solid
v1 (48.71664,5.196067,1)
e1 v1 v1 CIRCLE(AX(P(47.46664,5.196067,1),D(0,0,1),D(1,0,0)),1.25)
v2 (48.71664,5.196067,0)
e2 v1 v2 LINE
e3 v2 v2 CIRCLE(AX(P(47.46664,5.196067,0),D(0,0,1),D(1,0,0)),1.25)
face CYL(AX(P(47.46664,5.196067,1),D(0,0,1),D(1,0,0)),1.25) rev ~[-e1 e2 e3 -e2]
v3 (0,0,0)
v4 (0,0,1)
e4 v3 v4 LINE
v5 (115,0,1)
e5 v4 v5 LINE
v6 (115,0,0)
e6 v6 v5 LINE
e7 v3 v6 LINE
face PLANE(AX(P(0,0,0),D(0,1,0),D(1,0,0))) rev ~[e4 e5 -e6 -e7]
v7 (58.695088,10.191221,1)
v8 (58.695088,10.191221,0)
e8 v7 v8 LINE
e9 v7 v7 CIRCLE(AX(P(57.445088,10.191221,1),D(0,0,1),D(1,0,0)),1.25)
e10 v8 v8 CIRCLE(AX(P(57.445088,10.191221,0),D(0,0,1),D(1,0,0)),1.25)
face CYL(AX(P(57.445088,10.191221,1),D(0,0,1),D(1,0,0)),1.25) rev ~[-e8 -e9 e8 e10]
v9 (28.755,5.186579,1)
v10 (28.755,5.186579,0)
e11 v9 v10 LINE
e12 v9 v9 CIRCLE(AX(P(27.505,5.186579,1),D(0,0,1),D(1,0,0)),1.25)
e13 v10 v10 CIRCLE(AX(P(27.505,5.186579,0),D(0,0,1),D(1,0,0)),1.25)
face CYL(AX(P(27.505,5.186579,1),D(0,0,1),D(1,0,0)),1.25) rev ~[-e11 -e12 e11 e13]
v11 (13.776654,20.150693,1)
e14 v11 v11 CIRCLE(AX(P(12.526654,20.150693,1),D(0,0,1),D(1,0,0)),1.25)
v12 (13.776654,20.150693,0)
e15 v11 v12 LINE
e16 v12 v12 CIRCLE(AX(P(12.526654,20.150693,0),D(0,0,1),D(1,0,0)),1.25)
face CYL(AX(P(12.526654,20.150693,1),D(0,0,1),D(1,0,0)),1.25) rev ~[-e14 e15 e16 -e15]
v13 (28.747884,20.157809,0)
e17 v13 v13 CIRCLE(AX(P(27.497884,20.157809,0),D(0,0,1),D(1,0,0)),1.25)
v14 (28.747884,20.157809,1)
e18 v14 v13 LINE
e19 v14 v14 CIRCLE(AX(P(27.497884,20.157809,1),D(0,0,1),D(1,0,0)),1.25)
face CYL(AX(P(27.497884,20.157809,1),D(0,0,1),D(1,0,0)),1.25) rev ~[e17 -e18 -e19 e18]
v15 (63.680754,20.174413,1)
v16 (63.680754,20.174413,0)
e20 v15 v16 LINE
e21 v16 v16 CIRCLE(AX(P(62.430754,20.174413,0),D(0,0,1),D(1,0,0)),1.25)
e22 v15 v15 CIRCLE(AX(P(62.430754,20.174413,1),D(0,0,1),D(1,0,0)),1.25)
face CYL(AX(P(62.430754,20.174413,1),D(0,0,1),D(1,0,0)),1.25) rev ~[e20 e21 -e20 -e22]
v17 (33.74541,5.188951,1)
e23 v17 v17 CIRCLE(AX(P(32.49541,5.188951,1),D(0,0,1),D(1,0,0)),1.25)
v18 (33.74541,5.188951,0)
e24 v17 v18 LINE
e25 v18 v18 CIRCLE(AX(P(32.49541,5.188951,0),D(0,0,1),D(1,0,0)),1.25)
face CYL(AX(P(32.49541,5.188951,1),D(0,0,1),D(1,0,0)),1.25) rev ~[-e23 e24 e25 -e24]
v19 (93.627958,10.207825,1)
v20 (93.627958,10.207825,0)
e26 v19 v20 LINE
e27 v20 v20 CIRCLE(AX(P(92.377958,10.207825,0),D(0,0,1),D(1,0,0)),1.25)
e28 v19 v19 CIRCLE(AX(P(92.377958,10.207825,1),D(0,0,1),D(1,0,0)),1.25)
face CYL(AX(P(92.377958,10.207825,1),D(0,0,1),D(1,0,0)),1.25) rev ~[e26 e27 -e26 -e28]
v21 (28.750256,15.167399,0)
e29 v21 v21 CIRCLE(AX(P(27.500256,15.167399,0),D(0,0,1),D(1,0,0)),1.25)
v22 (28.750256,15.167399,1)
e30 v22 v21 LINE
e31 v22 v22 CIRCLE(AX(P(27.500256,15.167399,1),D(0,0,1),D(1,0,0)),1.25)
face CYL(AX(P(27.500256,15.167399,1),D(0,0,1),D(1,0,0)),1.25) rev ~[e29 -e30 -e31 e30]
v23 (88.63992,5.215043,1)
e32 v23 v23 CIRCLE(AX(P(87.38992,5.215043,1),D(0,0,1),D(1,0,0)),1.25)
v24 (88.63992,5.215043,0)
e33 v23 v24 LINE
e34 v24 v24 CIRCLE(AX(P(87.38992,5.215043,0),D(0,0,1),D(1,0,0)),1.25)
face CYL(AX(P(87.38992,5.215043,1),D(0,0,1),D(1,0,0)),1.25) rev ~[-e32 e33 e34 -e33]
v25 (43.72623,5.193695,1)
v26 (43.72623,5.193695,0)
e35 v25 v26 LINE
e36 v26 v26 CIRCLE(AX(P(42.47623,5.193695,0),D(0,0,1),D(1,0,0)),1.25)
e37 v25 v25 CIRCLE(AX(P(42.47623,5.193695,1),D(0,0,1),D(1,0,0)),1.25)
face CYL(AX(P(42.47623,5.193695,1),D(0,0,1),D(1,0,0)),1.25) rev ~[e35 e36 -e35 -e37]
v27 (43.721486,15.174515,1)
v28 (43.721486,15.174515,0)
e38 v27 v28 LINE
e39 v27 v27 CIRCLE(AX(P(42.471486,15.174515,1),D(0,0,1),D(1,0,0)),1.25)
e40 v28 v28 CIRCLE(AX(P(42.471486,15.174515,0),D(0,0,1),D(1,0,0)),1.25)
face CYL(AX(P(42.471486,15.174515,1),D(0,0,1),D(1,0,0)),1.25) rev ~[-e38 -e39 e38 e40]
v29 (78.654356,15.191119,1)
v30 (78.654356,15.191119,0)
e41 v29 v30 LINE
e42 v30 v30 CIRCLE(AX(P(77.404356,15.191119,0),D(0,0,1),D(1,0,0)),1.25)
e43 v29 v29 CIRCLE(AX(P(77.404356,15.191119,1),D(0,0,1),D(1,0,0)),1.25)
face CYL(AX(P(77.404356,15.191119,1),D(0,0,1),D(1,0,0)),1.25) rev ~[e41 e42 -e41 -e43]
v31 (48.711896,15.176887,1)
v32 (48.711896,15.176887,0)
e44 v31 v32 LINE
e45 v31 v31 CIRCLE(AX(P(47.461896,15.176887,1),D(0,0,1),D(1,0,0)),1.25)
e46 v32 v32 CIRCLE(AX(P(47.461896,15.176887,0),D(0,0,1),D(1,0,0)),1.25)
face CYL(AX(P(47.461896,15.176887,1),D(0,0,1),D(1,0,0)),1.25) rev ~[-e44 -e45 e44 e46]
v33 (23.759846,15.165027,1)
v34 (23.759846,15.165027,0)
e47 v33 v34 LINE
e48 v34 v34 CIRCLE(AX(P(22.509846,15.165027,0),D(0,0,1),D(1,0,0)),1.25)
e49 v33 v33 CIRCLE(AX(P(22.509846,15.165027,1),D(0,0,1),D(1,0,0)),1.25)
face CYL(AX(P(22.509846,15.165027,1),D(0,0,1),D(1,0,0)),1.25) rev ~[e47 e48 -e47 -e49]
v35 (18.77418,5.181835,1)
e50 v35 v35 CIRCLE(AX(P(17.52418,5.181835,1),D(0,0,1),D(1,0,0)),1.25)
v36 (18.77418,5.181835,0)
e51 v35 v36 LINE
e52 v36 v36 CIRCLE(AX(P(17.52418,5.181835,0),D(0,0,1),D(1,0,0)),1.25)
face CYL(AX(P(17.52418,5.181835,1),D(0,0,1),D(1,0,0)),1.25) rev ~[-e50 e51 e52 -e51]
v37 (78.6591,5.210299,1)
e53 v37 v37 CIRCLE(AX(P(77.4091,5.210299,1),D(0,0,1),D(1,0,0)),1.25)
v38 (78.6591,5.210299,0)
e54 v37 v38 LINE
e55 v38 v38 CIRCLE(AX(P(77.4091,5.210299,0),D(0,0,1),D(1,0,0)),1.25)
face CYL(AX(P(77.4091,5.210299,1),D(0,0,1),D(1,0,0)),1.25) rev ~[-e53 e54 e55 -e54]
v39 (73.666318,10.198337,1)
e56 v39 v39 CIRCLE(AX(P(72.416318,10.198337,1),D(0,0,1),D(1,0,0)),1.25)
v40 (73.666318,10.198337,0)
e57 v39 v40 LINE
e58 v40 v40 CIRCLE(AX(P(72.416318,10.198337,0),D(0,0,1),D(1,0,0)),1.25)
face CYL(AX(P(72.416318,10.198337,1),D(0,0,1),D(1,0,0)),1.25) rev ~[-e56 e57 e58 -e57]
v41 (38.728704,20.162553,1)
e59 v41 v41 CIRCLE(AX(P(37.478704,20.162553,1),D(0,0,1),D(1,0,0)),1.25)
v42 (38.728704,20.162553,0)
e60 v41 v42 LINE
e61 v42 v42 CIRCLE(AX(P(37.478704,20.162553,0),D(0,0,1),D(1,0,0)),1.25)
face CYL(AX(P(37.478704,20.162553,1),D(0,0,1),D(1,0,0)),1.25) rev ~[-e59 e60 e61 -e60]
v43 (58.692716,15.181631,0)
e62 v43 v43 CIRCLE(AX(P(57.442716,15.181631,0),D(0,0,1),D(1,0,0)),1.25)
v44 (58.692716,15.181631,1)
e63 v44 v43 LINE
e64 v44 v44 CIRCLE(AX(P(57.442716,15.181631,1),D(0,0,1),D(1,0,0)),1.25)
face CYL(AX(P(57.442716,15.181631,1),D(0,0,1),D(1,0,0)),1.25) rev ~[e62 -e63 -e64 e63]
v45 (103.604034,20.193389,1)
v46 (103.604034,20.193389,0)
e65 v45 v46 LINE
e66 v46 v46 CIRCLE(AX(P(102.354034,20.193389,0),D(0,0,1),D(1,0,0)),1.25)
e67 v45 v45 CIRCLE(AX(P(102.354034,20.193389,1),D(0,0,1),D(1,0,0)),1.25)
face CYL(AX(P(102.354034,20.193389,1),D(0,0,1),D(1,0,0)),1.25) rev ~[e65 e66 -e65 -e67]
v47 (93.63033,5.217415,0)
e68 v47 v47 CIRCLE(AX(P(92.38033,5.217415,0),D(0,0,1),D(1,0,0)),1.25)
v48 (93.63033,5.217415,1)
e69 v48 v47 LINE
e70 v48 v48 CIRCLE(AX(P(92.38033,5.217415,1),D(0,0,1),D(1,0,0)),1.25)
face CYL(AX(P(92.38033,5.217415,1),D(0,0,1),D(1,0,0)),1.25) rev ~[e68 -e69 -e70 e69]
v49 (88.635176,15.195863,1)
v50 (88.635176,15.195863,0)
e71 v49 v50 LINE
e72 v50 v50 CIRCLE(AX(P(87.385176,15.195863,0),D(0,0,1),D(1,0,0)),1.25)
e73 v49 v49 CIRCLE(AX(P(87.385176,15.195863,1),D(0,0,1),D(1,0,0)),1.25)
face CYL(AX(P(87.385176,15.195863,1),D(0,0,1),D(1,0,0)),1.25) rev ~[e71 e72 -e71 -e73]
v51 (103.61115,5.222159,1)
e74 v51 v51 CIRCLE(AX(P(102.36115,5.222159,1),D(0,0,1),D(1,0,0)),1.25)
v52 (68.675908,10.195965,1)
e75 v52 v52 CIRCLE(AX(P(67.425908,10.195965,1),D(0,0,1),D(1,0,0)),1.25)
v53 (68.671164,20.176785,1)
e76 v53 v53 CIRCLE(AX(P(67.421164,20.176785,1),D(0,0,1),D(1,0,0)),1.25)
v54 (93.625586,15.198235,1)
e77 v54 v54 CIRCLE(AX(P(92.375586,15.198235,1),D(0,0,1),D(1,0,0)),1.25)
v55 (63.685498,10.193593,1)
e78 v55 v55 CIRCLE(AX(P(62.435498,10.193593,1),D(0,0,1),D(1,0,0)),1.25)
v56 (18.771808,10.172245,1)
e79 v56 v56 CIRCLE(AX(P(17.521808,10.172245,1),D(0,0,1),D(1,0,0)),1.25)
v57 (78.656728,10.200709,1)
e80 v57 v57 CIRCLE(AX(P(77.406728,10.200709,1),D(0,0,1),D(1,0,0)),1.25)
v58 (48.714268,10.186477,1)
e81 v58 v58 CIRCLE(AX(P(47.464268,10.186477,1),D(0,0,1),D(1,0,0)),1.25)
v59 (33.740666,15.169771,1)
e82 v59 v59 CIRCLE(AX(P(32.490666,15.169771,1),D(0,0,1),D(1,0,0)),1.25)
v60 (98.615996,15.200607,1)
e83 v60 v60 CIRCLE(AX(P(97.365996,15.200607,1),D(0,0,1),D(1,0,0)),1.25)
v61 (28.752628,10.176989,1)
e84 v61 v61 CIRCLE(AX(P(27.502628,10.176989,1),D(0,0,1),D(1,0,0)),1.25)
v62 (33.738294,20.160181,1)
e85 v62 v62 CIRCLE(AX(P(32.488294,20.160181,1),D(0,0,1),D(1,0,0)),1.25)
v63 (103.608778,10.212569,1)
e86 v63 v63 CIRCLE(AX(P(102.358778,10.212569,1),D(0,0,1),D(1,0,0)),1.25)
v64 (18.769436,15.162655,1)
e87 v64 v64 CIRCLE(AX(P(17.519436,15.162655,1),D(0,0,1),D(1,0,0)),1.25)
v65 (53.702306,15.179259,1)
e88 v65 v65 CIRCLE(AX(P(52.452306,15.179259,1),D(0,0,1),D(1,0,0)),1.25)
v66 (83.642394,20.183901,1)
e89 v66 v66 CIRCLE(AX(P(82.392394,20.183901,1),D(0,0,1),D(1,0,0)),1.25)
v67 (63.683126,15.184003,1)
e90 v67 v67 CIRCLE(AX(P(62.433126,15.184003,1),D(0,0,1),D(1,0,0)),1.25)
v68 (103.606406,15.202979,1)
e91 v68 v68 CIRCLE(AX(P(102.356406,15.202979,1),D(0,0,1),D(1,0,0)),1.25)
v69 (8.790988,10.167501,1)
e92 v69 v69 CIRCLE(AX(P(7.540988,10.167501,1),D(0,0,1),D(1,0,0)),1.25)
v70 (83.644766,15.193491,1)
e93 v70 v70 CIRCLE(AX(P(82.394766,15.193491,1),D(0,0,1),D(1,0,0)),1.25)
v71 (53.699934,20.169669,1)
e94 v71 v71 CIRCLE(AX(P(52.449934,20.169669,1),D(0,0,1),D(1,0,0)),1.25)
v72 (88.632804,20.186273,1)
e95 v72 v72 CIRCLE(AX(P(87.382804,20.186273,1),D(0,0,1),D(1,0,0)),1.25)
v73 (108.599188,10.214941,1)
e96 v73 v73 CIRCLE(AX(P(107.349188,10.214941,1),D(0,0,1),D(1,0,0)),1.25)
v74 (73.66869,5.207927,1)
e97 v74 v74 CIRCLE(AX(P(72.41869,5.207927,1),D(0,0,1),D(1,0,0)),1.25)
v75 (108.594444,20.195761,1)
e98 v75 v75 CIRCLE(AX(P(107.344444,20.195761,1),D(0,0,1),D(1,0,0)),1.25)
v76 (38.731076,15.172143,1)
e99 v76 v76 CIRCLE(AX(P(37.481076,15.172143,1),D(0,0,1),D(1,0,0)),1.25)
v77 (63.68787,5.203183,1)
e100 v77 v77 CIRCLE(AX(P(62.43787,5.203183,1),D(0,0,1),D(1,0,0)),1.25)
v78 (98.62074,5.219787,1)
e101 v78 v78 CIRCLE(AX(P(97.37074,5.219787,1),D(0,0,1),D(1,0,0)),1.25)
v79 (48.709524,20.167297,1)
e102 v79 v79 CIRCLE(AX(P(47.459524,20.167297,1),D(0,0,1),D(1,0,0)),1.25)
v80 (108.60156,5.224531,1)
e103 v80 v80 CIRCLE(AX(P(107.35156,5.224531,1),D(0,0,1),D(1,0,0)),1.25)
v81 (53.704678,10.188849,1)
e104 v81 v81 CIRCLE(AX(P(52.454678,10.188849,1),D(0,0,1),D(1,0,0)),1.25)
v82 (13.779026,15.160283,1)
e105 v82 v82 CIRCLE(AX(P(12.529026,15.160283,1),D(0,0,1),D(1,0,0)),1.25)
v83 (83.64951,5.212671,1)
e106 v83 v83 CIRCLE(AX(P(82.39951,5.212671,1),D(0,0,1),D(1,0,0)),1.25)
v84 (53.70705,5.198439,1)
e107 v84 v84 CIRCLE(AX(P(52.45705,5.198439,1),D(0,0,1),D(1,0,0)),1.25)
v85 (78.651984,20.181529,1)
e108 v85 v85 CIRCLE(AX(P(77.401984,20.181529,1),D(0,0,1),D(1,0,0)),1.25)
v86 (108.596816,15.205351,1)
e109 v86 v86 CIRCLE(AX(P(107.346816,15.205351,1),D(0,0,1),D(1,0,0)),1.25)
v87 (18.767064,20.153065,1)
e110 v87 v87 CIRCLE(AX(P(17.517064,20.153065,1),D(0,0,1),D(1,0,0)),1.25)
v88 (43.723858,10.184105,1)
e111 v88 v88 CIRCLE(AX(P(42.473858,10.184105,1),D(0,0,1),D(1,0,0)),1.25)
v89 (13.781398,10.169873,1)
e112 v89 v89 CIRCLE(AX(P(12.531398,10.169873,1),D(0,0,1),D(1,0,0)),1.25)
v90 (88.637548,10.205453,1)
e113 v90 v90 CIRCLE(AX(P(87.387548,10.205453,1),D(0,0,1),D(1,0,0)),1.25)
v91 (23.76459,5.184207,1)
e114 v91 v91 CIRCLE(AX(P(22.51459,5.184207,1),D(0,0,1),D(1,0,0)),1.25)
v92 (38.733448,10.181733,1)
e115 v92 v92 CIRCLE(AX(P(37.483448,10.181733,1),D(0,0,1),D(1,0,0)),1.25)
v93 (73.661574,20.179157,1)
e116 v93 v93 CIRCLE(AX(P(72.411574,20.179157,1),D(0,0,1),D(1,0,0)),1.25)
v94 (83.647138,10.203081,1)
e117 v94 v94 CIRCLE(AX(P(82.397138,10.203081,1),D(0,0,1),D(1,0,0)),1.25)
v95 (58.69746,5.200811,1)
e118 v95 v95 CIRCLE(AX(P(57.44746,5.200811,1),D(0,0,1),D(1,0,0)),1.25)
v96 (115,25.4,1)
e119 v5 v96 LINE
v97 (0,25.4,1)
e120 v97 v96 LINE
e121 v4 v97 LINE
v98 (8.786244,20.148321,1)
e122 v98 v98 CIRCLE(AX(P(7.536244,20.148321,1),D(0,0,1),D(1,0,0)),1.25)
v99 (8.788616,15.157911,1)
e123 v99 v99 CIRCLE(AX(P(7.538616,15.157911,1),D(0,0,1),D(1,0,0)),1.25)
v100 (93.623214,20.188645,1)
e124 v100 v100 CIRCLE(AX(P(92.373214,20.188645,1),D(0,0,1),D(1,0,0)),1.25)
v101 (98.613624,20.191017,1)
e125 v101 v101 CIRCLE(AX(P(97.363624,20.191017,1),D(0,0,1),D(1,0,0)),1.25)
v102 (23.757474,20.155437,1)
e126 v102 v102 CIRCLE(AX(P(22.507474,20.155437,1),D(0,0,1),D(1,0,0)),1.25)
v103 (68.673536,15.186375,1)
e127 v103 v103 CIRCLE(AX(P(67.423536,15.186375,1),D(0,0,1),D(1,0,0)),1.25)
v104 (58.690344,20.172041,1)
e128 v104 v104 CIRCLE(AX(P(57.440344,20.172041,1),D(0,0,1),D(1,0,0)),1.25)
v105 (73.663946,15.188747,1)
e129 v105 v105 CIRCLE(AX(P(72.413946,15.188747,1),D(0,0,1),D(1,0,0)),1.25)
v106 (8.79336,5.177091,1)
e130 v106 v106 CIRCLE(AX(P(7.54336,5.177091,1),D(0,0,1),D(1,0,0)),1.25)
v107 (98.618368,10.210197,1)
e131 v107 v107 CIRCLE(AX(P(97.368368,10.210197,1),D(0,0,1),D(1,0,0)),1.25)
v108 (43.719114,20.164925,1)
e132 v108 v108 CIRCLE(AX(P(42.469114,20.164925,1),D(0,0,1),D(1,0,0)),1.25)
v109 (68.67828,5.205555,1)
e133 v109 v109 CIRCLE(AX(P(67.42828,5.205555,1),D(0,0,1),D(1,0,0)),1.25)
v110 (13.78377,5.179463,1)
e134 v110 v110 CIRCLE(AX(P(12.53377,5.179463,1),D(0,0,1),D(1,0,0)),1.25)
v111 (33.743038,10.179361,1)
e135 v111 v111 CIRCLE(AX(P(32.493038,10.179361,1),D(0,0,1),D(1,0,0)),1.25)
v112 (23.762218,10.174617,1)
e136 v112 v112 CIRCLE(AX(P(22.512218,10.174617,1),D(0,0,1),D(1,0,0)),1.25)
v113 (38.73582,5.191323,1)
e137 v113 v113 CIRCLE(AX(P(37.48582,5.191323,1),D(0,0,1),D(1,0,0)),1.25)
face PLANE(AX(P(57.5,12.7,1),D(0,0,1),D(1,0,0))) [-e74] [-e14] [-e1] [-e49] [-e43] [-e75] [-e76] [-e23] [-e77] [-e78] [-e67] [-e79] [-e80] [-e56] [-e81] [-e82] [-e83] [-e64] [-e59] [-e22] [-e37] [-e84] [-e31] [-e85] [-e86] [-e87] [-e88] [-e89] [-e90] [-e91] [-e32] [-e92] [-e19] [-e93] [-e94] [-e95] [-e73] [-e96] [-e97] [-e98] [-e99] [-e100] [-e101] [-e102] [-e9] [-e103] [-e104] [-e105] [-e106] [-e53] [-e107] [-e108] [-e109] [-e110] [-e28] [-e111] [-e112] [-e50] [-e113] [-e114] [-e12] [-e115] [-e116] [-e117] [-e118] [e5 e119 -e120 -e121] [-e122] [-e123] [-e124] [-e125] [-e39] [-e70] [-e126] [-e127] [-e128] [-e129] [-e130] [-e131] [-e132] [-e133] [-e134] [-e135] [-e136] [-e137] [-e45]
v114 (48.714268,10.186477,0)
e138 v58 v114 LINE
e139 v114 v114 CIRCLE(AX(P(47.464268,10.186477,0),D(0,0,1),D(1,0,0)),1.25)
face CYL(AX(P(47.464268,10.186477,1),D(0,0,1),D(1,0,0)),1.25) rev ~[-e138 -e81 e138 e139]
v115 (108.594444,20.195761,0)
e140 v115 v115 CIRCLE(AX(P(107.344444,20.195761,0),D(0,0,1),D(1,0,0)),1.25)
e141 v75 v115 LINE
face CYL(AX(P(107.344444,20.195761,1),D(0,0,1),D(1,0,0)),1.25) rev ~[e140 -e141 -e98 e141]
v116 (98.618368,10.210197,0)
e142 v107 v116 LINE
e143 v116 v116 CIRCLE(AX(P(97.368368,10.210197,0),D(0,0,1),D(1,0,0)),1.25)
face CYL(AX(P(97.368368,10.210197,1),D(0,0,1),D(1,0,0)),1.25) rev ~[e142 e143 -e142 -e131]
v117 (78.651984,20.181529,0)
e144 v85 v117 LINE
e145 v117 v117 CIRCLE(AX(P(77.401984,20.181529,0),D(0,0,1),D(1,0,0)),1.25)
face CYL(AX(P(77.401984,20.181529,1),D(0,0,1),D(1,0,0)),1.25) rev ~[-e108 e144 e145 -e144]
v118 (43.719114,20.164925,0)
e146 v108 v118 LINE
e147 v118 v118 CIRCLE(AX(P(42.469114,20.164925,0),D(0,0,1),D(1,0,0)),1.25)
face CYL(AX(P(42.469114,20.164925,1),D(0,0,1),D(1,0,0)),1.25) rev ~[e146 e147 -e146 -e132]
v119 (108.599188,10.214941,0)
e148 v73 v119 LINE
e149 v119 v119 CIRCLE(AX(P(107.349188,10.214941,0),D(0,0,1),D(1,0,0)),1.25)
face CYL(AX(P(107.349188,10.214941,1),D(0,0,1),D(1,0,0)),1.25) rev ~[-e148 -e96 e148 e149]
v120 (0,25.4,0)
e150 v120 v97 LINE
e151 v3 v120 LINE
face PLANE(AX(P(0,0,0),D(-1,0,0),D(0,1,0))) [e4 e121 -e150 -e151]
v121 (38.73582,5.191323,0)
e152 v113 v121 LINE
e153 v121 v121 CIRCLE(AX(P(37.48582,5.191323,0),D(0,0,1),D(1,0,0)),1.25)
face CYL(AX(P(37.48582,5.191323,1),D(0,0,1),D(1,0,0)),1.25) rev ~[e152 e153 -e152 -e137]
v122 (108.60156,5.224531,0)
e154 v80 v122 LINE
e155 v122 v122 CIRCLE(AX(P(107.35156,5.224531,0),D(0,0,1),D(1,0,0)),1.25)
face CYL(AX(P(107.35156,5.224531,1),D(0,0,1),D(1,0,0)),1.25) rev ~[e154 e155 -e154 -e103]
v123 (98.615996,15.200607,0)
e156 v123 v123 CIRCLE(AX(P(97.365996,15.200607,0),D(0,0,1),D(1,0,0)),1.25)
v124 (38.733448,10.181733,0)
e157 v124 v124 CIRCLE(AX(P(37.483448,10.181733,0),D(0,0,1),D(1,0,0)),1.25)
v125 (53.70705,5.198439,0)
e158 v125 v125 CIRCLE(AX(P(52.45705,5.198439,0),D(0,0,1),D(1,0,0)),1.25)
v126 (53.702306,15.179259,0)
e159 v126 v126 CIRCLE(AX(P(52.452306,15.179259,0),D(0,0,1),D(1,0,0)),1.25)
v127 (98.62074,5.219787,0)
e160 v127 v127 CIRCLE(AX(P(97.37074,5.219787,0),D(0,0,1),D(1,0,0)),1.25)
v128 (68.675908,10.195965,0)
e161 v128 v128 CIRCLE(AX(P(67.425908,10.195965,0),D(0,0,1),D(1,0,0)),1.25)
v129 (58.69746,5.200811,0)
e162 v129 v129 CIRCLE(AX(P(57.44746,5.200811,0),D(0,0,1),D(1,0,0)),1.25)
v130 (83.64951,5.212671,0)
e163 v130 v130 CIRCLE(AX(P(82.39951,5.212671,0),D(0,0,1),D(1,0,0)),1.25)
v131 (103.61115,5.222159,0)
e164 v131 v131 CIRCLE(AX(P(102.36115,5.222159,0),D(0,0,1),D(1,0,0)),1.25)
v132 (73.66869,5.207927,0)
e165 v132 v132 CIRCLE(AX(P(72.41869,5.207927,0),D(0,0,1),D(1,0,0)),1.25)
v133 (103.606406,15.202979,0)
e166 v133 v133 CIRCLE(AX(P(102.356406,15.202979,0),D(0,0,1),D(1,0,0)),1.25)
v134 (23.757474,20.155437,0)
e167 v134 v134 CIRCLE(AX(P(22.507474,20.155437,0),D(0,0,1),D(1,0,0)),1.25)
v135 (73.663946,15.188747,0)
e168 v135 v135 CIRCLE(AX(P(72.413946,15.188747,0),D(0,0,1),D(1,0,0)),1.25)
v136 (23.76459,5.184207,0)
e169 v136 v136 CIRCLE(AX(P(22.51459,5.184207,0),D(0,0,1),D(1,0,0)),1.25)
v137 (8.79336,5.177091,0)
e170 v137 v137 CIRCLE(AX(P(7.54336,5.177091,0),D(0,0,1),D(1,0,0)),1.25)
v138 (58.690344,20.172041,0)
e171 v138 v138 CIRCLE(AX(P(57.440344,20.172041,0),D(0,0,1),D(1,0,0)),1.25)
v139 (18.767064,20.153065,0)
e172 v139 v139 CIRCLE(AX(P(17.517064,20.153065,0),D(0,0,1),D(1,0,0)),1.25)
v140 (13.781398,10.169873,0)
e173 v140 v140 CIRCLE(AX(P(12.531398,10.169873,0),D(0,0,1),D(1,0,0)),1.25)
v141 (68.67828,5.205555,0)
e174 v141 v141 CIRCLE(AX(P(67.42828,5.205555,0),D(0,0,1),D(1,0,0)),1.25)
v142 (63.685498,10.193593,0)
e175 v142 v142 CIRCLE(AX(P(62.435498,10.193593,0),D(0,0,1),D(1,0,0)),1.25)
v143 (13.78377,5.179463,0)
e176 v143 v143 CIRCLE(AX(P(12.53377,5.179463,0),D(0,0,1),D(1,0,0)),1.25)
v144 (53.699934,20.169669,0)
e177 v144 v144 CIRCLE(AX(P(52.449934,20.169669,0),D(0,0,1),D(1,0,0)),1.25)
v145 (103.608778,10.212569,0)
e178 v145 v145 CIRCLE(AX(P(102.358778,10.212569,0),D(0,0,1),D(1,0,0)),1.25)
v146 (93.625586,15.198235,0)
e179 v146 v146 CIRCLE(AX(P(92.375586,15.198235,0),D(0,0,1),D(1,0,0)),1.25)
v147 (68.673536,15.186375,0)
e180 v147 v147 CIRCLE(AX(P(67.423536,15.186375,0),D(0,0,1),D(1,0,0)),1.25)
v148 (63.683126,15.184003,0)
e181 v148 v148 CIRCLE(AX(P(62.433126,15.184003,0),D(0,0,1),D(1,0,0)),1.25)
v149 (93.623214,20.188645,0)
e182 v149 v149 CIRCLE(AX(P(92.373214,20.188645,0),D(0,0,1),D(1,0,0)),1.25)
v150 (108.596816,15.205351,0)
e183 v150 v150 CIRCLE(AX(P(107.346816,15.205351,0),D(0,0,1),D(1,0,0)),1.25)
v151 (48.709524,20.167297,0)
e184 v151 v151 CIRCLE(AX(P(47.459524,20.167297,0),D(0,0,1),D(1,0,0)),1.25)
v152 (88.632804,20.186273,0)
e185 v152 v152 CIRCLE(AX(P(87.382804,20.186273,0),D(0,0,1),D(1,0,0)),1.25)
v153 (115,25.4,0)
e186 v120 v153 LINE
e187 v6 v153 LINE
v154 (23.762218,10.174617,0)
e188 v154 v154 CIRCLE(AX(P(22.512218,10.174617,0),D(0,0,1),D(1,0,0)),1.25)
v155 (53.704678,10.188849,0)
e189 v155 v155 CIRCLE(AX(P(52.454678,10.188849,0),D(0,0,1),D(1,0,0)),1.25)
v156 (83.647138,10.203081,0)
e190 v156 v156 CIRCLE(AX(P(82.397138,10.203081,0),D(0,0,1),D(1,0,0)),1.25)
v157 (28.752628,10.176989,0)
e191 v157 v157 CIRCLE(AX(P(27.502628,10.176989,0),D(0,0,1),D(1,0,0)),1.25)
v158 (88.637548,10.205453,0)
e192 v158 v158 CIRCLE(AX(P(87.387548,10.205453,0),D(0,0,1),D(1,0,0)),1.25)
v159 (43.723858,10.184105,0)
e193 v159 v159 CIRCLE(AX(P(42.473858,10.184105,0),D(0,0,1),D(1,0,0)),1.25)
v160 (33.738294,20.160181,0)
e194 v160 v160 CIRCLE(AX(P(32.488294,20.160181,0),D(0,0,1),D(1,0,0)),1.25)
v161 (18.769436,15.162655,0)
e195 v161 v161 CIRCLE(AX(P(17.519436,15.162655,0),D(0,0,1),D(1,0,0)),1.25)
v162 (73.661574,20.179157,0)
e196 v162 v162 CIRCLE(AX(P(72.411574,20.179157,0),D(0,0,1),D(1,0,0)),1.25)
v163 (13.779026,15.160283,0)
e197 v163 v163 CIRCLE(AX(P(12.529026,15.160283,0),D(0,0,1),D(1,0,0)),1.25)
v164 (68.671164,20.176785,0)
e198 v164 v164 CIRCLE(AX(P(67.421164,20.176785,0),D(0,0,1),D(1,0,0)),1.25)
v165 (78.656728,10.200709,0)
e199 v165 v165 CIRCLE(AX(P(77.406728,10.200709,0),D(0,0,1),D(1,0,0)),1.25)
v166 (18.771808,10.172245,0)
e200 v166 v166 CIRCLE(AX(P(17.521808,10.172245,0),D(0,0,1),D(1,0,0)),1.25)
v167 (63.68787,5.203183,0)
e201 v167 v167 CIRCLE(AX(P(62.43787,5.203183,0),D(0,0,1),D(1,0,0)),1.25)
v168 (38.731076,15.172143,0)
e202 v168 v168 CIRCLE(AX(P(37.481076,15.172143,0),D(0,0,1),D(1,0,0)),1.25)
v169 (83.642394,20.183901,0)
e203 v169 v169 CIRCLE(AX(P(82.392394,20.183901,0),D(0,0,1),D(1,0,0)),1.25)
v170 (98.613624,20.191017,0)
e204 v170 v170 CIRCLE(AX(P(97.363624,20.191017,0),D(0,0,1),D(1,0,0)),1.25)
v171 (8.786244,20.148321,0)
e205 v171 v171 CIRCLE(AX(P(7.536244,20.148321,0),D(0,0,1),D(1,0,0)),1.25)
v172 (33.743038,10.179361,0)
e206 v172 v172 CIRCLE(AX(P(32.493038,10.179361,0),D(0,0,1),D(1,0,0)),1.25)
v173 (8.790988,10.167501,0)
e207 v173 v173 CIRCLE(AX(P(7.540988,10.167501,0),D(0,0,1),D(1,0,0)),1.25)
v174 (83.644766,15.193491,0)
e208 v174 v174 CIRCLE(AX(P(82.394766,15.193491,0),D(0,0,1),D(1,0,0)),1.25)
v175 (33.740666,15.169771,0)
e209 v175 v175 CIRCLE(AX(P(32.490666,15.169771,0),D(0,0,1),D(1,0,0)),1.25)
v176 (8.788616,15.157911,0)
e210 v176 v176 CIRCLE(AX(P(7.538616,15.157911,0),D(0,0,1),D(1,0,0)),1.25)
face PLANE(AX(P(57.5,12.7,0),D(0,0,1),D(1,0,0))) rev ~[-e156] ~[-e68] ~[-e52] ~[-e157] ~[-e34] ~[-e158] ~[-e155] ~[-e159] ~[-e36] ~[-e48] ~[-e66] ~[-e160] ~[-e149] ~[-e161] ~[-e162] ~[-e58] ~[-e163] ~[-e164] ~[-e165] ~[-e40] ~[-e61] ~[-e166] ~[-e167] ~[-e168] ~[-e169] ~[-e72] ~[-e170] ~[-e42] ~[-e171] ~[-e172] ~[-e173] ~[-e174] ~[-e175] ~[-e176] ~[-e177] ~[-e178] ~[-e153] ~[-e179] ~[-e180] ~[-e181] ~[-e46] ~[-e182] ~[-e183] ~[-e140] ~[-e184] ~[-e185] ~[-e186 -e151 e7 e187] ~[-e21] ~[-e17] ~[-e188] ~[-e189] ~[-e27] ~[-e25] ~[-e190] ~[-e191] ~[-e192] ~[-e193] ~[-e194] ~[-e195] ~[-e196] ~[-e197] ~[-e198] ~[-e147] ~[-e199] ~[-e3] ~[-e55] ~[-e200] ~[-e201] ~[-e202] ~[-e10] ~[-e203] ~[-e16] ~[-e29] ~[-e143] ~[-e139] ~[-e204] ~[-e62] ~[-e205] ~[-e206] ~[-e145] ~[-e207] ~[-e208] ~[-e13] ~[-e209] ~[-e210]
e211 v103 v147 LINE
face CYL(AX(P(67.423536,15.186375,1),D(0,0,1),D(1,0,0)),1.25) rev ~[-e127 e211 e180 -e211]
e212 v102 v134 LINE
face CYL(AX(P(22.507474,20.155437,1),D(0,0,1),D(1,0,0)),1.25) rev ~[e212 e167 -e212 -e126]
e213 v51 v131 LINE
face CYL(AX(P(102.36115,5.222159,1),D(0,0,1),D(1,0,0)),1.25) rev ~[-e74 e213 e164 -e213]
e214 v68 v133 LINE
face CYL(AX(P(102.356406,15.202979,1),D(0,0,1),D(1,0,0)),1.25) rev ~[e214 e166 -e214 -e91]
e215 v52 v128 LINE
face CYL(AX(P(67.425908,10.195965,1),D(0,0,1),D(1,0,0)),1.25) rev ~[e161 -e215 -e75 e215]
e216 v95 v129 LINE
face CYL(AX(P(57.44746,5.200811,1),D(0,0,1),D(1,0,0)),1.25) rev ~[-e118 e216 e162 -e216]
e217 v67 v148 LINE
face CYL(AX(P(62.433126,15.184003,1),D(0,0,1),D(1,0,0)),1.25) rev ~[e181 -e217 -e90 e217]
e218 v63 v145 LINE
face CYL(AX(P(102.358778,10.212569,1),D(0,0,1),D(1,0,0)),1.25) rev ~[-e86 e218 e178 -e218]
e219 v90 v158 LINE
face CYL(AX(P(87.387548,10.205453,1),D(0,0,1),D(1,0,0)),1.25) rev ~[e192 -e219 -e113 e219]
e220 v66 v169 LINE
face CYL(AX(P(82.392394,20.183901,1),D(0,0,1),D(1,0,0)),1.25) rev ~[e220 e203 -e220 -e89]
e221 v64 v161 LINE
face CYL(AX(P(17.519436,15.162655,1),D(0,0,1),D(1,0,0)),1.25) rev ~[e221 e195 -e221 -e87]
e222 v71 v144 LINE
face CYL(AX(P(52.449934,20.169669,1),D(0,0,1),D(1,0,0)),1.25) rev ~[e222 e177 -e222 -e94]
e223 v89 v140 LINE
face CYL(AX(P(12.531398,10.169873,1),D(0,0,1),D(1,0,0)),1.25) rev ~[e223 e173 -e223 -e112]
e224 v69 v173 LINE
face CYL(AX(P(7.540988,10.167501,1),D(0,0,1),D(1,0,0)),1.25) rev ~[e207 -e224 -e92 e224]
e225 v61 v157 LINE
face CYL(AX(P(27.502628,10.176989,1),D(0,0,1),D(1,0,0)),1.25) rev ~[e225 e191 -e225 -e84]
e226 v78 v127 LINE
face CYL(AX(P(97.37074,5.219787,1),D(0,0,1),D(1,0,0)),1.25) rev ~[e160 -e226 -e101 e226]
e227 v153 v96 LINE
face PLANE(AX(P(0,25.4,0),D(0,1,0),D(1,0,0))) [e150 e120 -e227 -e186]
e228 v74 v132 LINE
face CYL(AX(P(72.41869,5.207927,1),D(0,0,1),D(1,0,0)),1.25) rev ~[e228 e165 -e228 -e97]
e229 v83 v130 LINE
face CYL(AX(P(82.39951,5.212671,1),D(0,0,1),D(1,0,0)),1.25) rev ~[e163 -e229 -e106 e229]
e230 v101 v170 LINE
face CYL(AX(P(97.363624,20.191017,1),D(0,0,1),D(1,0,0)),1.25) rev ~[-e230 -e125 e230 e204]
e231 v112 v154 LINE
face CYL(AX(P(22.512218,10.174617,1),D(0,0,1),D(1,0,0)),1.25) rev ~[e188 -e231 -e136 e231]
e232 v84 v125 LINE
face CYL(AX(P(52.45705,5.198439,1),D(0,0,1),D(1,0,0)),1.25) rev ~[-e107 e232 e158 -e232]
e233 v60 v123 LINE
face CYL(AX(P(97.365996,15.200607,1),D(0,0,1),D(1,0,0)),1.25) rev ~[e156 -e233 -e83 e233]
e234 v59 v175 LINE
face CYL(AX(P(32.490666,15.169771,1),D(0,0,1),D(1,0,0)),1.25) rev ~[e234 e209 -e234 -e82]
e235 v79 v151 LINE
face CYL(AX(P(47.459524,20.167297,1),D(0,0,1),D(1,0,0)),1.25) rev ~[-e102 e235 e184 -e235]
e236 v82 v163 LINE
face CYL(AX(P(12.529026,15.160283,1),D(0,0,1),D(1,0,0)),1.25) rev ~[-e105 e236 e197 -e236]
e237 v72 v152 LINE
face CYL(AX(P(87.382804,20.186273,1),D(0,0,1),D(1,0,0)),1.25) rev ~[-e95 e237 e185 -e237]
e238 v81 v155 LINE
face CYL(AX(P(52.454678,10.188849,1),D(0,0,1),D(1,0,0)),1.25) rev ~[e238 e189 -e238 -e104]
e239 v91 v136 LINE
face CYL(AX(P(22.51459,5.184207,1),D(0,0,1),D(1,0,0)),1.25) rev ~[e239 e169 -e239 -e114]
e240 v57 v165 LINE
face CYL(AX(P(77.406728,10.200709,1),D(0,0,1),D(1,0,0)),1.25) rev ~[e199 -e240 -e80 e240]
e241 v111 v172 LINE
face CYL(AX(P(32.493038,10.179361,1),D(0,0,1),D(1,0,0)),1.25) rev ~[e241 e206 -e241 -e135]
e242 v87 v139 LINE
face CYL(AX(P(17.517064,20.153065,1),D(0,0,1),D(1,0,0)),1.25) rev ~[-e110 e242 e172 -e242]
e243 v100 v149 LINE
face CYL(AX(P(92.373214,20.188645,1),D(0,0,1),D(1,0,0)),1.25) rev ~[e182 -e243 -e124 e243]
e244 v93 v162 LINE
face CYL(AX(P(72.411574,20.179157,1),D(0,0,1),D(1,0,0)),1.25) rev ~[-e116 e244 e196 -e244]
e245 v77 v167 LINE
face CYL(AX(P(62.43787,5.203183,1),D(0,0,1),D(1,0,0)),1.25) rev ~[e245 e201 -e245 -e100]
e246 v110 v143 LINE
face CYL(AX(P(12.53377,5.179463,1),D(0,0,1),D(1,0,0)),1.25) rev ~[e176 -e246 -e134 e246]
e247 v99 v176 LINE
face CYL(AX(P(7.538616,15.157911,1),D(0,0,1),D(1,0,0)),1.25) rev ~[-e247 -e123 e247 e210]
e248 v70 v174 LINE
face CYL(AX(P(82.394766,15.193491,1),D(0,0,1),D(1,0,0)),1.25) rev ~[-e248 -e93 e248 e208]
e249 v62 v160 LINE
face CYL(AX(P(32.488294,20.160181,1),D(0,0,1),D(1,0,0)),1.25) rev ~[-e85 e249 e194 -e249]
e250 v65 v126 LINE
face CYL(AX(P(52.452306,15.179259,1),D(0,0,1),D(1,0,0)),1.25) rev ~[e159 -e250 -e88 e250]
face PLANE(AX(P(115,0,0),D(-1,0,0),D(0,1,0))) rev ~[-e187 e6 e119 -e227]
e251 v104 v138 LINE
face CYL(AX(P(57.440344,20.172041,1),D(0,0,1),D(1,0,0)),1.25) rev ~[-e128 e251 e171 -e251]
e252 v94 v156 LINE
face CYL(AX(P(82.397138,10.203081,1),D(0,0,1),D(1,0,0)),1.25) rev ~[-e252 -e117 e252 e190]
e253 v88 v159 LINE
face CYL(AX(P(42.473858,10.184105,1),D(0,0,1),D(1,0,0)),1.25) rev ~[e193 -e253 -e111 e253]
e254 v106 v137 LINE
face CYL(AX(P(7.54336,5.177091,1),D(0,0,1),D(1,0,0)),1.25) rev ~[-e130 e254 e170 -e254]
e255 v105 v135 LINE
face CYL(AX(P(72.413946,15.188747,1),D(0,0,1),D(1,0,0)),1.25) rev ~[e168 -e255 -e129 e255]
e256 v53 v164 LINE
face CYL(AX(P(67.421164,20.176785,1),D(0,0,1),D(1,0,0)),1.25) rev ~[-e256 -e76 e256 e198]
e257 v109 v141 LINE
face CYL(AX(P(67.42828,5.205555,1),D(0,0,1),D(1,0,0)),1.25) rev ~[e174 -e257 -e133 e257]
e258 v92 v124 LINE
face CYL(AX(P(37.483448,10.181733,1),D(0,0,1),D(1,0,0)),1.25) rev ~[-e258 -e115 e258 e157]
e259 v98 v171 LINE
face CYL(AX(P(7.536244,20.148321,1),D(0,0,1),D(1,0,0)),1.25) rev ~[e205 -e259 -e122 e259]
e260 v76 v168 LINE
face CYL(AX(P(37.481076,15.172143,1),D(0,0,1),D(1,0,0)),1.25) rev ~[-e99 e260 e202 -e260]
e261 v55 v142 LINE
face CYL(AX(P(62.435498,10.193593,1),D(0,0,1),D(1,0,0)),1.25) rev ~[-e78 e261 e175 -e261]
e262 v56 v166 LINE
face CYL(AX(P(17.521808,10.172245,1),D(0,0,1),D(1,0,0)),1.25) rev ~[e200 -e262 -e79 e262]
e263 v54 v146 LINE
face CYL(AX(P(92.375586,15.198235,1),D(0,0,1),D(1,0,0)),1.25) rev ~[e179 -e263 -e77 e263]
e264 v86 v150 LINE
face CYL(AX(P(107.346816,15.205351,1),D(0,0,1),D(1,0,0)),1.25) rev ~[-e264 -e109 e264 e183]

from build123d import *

# Parameters (mm, degrees)
BOX_W        = 115
BOX_H        = 25.4
BOX_DEPTH    = 1
SKETCH_R     = 1.25
POCKET_DEPTH = 5


with BuildPart() as part:
    # Box → Box (new body)
    with BuildSketch(Plane.XY):
        with Locations((57.5, 12.7)):
            Rectangle(BOX_W, BOX_H)
    extrude(amount=BOX_DEPTH)

    # Sketch (on Face6 of BaseFeature) → Pocket (cut)
    with BuildSketch(Plane.XY.offset(1)):
        with Locations((7.536244, 20.148321)):
            Circle(SKETCH_R)
        with Locations((12.526654, 20.150693)):
            Circle(SKETCH_R)
        with Locations((17.517064, 20.153065)):
            Circle(SKETCH_R)
        with Locations((22.507474, 20.155437)):
            Circle(SKETCH_R)
        with Locations((27.497884, 20.157809)):
            Circle(SKETCH_R)
        with Locations((32.488294, 20.160181)):
            Circle(SKETCH_R)
        with Locations((37.478704, 20.162553)):
            Circle(SKETCH_R)
        with Locations((42.469114, 20.164925)):
            Circle(SKETCH_R)
        with Locations((47.459524, 20.167297)):
            Circle(SKETCH_R)
        with Locations((52.449934, 20.169669)):
            Circle(SKETCH_R)
        with Locations((57.440344, 20.172041)):
            Circle(SKETCH_R)
        with Locations((62.430754, 20.174413)):
            Circle(SKETCH_R)
        with Locations((67.421164, 20.176785)):
            Circle(SKETCH_R)
        with Locations((72.411574, 20.179157)):
            Circle(SKETCH_R)
        with Locations((77.401984, 20.181529)):
            Circle(SKETCH_R)
        with Locations((82.392394, 20.183901)):
            Circle(SKETCH_R)
        with Locations((87.382804, 20.186273)):
            Circle(SKETCH_R)
        with Locations((92.373214, 20.188645)):
            Circle(SKETCH_R)
        with Locations((97.363624, 20.191017)):
            Circle(SKETCH_R)
        with Locations((102.354034, 20.193389)):
            Circle(SKETCH_R)
        with Locations((107.344444, 20.195761)):
            Circle(SKETCH_R)
        with Locations((7.538616, 15.157911)):
            Circle(SKETCH_R)
        with Locations((12.529026, 15.160283)):
            Circle(SKETCH_R)
        with Locations((17.519436, 15.162655)):
            Circle(SKETCH_R)
        with Locations((22.509846, 15.165027)):
            Circle(SKETCH_R)
        with Locations((27.500256, 15.167399)):
            Circle(SKETCH_R)
        with Locations((32.490666, 15.169771)):
            Circle(SKETCH_R)
        with Locations((37.481076, 15.172143)):
            Circle(SKETCH_R)
        with Locations((42.471486, 15.174515)):
            Circle(SKETCH_R)
        with Locations((47.461896, 15.176887)):
            Circle(SKETCH_R)
        with Locations((52.452306, 15.179259)):
            Circle(SKETCH_R)
        with Locations((57.442716, 15.181631)):
            Circle(SKETCH_R)
        with Locations((62.433126, 15.184003)):
            Circle(SKETCH_R)
        with Locations((67.423536, 15.186375)):
            Circle(SKETCH_R)
        with Locations((72.413946, 15.188747)):
            Circle(SKETCH_R)
        with Locations((77.404356, 15.191119)):
            Circle(SKETCH_R)
        with Locations((82.394766, 15.193491)):
            Circle(SKETCH_R)
        with Locations((87.385176, 15.195863)):
            Circle(SKETCH_R)
        with Locations((92.375586, 15.198235)):
            Circle(SKETCH_R)
        with Locations((97.365996, 15.200607)):
            Circle(SKETCH_R)
        with Locations((102.356406, 15.202979)):
            Circle(SKETCH_R)
        with Locations((107.346816, 15.205351)):
            Circle(SKETCH_R)
        with Locations((7.540988, 10.167501)):
            Circle(SKETCH_R)
        with Locations((12.531398, 10.169873)):
            Circle(SKETCH_R)
        with Locations((17.521808, 10.172245)):
            Circle(SKETCH_R)
        with Locations((22.512218, 10.174617)):
            Circle(SKETCH_R)
        with Locations((27.502628, 10.176989)):
            Circle(SKETCH_R)
        with Locations((32.493038, 10.179361)):
            Circle(SKETCH_R)
        with Locations((37.483448, 10.181733)):
            Circle(SKETCH_R)
        with Locations((42.473858, 10.184105)):
            Circle(SKETCH_R)
        with Locations((47.464268, 10.186477)):
            Circle(SKETCH_R)
        with Locations((52.454678, 10.188849)):
            Circle(SKETCH_R)
        with Locations((57.445088, 10.191221)):
            Circle(SKETCH_R)
        with Locations((62.435498, 10.193593)):
            Circle(SKETCH_R)
        with Locations((67.425908, 10.195965)):
            Circle(SKETCH_R)
        with Locations((72.416318, 10.198337)):
            Circle(SKETCH_R)
        with Locations((77.406728, 10.200709)):
            Circle(SKETCH_R)
        with Locations((82.397138, 10.203081)):
            Circle(SKETCH_R)
        with Locations((87.387548, 10.205453)):
            Circle(SKETCH_R)
        with Locations((92.377958, 10.207825)):
            Circle(SKETCH_R)
        with Locations((97.368368, 10.210197)):
            Circle(SKETCH_R)
        with Locations((102.358778, 10.212569)):
            Circle(SKETCH_R)
        with Locations((107.349188, 10.214941)):
            Circle(SKETCH_R)
        with Locations((7.54336, 5.177091)):
            Circle(SKETCH_R)
        with Locations((12.53377, 5.179463)):
            Circle(SKETCH_R)
        with Locations((17.52418, 5.181835)):
            Circle(SKETCH_R)
        with Locations((22.51459, 5.184207)):
            Circle(SKETCH_R)
        with Locations((27.505, 5.186579)):
            Circle(SKETCH_R)
        with Locations((32.49541, 5.188951)):
            Circle(SKETCH_R)
        with Locations((37.48582, 5.191323)):
            Circle(SKETCH_R)
        with Locations((42.47623, 5.193695)):
            Circle(SKETCH_R)
        with Locations((47.46664, 5.196067)):
            Circle(SKETCH_R)
        with Locations((52.45705, 5.198439)):
            Circle(SKETCH_R)
        with Locations((57.44746, 5.200811)):
            Circle(SKETCH_R)
        with Locations((62.43787, 5.203183)):
            Circle(SKETCH_R)
        with Locations((67.42828, 5.205555)):
            Circle(SKETCH_R)
        with Locations((72.41869, 5.207927)):
            Circle(SKETCH_R)
        with Locations((77.4091, 5.210299)):
            Circle(SKETCH_R)
        with Locations((82.39951, 5.212671)):
            Circle(SKETCH_R)
        with Locations((87.38992, 5.215043)):
            Circle(SKETCH_R)
        with Locations((92.38033, 5.217415)):
            Circle(SKETCH_R)
        with Locations((97.37074, 5.219787)):
            Circle(SKETCH_R)
        with Locations((102.36115, 5.222159)):
            Circle(SKETCH_R)
        with Locations((107.35156, 5.224531)):
            Circle(SKETCH_R)
    extrude(amount=-POCKET_DEPTH, mode=Mode.SUBTRACT)


solid = part.part
